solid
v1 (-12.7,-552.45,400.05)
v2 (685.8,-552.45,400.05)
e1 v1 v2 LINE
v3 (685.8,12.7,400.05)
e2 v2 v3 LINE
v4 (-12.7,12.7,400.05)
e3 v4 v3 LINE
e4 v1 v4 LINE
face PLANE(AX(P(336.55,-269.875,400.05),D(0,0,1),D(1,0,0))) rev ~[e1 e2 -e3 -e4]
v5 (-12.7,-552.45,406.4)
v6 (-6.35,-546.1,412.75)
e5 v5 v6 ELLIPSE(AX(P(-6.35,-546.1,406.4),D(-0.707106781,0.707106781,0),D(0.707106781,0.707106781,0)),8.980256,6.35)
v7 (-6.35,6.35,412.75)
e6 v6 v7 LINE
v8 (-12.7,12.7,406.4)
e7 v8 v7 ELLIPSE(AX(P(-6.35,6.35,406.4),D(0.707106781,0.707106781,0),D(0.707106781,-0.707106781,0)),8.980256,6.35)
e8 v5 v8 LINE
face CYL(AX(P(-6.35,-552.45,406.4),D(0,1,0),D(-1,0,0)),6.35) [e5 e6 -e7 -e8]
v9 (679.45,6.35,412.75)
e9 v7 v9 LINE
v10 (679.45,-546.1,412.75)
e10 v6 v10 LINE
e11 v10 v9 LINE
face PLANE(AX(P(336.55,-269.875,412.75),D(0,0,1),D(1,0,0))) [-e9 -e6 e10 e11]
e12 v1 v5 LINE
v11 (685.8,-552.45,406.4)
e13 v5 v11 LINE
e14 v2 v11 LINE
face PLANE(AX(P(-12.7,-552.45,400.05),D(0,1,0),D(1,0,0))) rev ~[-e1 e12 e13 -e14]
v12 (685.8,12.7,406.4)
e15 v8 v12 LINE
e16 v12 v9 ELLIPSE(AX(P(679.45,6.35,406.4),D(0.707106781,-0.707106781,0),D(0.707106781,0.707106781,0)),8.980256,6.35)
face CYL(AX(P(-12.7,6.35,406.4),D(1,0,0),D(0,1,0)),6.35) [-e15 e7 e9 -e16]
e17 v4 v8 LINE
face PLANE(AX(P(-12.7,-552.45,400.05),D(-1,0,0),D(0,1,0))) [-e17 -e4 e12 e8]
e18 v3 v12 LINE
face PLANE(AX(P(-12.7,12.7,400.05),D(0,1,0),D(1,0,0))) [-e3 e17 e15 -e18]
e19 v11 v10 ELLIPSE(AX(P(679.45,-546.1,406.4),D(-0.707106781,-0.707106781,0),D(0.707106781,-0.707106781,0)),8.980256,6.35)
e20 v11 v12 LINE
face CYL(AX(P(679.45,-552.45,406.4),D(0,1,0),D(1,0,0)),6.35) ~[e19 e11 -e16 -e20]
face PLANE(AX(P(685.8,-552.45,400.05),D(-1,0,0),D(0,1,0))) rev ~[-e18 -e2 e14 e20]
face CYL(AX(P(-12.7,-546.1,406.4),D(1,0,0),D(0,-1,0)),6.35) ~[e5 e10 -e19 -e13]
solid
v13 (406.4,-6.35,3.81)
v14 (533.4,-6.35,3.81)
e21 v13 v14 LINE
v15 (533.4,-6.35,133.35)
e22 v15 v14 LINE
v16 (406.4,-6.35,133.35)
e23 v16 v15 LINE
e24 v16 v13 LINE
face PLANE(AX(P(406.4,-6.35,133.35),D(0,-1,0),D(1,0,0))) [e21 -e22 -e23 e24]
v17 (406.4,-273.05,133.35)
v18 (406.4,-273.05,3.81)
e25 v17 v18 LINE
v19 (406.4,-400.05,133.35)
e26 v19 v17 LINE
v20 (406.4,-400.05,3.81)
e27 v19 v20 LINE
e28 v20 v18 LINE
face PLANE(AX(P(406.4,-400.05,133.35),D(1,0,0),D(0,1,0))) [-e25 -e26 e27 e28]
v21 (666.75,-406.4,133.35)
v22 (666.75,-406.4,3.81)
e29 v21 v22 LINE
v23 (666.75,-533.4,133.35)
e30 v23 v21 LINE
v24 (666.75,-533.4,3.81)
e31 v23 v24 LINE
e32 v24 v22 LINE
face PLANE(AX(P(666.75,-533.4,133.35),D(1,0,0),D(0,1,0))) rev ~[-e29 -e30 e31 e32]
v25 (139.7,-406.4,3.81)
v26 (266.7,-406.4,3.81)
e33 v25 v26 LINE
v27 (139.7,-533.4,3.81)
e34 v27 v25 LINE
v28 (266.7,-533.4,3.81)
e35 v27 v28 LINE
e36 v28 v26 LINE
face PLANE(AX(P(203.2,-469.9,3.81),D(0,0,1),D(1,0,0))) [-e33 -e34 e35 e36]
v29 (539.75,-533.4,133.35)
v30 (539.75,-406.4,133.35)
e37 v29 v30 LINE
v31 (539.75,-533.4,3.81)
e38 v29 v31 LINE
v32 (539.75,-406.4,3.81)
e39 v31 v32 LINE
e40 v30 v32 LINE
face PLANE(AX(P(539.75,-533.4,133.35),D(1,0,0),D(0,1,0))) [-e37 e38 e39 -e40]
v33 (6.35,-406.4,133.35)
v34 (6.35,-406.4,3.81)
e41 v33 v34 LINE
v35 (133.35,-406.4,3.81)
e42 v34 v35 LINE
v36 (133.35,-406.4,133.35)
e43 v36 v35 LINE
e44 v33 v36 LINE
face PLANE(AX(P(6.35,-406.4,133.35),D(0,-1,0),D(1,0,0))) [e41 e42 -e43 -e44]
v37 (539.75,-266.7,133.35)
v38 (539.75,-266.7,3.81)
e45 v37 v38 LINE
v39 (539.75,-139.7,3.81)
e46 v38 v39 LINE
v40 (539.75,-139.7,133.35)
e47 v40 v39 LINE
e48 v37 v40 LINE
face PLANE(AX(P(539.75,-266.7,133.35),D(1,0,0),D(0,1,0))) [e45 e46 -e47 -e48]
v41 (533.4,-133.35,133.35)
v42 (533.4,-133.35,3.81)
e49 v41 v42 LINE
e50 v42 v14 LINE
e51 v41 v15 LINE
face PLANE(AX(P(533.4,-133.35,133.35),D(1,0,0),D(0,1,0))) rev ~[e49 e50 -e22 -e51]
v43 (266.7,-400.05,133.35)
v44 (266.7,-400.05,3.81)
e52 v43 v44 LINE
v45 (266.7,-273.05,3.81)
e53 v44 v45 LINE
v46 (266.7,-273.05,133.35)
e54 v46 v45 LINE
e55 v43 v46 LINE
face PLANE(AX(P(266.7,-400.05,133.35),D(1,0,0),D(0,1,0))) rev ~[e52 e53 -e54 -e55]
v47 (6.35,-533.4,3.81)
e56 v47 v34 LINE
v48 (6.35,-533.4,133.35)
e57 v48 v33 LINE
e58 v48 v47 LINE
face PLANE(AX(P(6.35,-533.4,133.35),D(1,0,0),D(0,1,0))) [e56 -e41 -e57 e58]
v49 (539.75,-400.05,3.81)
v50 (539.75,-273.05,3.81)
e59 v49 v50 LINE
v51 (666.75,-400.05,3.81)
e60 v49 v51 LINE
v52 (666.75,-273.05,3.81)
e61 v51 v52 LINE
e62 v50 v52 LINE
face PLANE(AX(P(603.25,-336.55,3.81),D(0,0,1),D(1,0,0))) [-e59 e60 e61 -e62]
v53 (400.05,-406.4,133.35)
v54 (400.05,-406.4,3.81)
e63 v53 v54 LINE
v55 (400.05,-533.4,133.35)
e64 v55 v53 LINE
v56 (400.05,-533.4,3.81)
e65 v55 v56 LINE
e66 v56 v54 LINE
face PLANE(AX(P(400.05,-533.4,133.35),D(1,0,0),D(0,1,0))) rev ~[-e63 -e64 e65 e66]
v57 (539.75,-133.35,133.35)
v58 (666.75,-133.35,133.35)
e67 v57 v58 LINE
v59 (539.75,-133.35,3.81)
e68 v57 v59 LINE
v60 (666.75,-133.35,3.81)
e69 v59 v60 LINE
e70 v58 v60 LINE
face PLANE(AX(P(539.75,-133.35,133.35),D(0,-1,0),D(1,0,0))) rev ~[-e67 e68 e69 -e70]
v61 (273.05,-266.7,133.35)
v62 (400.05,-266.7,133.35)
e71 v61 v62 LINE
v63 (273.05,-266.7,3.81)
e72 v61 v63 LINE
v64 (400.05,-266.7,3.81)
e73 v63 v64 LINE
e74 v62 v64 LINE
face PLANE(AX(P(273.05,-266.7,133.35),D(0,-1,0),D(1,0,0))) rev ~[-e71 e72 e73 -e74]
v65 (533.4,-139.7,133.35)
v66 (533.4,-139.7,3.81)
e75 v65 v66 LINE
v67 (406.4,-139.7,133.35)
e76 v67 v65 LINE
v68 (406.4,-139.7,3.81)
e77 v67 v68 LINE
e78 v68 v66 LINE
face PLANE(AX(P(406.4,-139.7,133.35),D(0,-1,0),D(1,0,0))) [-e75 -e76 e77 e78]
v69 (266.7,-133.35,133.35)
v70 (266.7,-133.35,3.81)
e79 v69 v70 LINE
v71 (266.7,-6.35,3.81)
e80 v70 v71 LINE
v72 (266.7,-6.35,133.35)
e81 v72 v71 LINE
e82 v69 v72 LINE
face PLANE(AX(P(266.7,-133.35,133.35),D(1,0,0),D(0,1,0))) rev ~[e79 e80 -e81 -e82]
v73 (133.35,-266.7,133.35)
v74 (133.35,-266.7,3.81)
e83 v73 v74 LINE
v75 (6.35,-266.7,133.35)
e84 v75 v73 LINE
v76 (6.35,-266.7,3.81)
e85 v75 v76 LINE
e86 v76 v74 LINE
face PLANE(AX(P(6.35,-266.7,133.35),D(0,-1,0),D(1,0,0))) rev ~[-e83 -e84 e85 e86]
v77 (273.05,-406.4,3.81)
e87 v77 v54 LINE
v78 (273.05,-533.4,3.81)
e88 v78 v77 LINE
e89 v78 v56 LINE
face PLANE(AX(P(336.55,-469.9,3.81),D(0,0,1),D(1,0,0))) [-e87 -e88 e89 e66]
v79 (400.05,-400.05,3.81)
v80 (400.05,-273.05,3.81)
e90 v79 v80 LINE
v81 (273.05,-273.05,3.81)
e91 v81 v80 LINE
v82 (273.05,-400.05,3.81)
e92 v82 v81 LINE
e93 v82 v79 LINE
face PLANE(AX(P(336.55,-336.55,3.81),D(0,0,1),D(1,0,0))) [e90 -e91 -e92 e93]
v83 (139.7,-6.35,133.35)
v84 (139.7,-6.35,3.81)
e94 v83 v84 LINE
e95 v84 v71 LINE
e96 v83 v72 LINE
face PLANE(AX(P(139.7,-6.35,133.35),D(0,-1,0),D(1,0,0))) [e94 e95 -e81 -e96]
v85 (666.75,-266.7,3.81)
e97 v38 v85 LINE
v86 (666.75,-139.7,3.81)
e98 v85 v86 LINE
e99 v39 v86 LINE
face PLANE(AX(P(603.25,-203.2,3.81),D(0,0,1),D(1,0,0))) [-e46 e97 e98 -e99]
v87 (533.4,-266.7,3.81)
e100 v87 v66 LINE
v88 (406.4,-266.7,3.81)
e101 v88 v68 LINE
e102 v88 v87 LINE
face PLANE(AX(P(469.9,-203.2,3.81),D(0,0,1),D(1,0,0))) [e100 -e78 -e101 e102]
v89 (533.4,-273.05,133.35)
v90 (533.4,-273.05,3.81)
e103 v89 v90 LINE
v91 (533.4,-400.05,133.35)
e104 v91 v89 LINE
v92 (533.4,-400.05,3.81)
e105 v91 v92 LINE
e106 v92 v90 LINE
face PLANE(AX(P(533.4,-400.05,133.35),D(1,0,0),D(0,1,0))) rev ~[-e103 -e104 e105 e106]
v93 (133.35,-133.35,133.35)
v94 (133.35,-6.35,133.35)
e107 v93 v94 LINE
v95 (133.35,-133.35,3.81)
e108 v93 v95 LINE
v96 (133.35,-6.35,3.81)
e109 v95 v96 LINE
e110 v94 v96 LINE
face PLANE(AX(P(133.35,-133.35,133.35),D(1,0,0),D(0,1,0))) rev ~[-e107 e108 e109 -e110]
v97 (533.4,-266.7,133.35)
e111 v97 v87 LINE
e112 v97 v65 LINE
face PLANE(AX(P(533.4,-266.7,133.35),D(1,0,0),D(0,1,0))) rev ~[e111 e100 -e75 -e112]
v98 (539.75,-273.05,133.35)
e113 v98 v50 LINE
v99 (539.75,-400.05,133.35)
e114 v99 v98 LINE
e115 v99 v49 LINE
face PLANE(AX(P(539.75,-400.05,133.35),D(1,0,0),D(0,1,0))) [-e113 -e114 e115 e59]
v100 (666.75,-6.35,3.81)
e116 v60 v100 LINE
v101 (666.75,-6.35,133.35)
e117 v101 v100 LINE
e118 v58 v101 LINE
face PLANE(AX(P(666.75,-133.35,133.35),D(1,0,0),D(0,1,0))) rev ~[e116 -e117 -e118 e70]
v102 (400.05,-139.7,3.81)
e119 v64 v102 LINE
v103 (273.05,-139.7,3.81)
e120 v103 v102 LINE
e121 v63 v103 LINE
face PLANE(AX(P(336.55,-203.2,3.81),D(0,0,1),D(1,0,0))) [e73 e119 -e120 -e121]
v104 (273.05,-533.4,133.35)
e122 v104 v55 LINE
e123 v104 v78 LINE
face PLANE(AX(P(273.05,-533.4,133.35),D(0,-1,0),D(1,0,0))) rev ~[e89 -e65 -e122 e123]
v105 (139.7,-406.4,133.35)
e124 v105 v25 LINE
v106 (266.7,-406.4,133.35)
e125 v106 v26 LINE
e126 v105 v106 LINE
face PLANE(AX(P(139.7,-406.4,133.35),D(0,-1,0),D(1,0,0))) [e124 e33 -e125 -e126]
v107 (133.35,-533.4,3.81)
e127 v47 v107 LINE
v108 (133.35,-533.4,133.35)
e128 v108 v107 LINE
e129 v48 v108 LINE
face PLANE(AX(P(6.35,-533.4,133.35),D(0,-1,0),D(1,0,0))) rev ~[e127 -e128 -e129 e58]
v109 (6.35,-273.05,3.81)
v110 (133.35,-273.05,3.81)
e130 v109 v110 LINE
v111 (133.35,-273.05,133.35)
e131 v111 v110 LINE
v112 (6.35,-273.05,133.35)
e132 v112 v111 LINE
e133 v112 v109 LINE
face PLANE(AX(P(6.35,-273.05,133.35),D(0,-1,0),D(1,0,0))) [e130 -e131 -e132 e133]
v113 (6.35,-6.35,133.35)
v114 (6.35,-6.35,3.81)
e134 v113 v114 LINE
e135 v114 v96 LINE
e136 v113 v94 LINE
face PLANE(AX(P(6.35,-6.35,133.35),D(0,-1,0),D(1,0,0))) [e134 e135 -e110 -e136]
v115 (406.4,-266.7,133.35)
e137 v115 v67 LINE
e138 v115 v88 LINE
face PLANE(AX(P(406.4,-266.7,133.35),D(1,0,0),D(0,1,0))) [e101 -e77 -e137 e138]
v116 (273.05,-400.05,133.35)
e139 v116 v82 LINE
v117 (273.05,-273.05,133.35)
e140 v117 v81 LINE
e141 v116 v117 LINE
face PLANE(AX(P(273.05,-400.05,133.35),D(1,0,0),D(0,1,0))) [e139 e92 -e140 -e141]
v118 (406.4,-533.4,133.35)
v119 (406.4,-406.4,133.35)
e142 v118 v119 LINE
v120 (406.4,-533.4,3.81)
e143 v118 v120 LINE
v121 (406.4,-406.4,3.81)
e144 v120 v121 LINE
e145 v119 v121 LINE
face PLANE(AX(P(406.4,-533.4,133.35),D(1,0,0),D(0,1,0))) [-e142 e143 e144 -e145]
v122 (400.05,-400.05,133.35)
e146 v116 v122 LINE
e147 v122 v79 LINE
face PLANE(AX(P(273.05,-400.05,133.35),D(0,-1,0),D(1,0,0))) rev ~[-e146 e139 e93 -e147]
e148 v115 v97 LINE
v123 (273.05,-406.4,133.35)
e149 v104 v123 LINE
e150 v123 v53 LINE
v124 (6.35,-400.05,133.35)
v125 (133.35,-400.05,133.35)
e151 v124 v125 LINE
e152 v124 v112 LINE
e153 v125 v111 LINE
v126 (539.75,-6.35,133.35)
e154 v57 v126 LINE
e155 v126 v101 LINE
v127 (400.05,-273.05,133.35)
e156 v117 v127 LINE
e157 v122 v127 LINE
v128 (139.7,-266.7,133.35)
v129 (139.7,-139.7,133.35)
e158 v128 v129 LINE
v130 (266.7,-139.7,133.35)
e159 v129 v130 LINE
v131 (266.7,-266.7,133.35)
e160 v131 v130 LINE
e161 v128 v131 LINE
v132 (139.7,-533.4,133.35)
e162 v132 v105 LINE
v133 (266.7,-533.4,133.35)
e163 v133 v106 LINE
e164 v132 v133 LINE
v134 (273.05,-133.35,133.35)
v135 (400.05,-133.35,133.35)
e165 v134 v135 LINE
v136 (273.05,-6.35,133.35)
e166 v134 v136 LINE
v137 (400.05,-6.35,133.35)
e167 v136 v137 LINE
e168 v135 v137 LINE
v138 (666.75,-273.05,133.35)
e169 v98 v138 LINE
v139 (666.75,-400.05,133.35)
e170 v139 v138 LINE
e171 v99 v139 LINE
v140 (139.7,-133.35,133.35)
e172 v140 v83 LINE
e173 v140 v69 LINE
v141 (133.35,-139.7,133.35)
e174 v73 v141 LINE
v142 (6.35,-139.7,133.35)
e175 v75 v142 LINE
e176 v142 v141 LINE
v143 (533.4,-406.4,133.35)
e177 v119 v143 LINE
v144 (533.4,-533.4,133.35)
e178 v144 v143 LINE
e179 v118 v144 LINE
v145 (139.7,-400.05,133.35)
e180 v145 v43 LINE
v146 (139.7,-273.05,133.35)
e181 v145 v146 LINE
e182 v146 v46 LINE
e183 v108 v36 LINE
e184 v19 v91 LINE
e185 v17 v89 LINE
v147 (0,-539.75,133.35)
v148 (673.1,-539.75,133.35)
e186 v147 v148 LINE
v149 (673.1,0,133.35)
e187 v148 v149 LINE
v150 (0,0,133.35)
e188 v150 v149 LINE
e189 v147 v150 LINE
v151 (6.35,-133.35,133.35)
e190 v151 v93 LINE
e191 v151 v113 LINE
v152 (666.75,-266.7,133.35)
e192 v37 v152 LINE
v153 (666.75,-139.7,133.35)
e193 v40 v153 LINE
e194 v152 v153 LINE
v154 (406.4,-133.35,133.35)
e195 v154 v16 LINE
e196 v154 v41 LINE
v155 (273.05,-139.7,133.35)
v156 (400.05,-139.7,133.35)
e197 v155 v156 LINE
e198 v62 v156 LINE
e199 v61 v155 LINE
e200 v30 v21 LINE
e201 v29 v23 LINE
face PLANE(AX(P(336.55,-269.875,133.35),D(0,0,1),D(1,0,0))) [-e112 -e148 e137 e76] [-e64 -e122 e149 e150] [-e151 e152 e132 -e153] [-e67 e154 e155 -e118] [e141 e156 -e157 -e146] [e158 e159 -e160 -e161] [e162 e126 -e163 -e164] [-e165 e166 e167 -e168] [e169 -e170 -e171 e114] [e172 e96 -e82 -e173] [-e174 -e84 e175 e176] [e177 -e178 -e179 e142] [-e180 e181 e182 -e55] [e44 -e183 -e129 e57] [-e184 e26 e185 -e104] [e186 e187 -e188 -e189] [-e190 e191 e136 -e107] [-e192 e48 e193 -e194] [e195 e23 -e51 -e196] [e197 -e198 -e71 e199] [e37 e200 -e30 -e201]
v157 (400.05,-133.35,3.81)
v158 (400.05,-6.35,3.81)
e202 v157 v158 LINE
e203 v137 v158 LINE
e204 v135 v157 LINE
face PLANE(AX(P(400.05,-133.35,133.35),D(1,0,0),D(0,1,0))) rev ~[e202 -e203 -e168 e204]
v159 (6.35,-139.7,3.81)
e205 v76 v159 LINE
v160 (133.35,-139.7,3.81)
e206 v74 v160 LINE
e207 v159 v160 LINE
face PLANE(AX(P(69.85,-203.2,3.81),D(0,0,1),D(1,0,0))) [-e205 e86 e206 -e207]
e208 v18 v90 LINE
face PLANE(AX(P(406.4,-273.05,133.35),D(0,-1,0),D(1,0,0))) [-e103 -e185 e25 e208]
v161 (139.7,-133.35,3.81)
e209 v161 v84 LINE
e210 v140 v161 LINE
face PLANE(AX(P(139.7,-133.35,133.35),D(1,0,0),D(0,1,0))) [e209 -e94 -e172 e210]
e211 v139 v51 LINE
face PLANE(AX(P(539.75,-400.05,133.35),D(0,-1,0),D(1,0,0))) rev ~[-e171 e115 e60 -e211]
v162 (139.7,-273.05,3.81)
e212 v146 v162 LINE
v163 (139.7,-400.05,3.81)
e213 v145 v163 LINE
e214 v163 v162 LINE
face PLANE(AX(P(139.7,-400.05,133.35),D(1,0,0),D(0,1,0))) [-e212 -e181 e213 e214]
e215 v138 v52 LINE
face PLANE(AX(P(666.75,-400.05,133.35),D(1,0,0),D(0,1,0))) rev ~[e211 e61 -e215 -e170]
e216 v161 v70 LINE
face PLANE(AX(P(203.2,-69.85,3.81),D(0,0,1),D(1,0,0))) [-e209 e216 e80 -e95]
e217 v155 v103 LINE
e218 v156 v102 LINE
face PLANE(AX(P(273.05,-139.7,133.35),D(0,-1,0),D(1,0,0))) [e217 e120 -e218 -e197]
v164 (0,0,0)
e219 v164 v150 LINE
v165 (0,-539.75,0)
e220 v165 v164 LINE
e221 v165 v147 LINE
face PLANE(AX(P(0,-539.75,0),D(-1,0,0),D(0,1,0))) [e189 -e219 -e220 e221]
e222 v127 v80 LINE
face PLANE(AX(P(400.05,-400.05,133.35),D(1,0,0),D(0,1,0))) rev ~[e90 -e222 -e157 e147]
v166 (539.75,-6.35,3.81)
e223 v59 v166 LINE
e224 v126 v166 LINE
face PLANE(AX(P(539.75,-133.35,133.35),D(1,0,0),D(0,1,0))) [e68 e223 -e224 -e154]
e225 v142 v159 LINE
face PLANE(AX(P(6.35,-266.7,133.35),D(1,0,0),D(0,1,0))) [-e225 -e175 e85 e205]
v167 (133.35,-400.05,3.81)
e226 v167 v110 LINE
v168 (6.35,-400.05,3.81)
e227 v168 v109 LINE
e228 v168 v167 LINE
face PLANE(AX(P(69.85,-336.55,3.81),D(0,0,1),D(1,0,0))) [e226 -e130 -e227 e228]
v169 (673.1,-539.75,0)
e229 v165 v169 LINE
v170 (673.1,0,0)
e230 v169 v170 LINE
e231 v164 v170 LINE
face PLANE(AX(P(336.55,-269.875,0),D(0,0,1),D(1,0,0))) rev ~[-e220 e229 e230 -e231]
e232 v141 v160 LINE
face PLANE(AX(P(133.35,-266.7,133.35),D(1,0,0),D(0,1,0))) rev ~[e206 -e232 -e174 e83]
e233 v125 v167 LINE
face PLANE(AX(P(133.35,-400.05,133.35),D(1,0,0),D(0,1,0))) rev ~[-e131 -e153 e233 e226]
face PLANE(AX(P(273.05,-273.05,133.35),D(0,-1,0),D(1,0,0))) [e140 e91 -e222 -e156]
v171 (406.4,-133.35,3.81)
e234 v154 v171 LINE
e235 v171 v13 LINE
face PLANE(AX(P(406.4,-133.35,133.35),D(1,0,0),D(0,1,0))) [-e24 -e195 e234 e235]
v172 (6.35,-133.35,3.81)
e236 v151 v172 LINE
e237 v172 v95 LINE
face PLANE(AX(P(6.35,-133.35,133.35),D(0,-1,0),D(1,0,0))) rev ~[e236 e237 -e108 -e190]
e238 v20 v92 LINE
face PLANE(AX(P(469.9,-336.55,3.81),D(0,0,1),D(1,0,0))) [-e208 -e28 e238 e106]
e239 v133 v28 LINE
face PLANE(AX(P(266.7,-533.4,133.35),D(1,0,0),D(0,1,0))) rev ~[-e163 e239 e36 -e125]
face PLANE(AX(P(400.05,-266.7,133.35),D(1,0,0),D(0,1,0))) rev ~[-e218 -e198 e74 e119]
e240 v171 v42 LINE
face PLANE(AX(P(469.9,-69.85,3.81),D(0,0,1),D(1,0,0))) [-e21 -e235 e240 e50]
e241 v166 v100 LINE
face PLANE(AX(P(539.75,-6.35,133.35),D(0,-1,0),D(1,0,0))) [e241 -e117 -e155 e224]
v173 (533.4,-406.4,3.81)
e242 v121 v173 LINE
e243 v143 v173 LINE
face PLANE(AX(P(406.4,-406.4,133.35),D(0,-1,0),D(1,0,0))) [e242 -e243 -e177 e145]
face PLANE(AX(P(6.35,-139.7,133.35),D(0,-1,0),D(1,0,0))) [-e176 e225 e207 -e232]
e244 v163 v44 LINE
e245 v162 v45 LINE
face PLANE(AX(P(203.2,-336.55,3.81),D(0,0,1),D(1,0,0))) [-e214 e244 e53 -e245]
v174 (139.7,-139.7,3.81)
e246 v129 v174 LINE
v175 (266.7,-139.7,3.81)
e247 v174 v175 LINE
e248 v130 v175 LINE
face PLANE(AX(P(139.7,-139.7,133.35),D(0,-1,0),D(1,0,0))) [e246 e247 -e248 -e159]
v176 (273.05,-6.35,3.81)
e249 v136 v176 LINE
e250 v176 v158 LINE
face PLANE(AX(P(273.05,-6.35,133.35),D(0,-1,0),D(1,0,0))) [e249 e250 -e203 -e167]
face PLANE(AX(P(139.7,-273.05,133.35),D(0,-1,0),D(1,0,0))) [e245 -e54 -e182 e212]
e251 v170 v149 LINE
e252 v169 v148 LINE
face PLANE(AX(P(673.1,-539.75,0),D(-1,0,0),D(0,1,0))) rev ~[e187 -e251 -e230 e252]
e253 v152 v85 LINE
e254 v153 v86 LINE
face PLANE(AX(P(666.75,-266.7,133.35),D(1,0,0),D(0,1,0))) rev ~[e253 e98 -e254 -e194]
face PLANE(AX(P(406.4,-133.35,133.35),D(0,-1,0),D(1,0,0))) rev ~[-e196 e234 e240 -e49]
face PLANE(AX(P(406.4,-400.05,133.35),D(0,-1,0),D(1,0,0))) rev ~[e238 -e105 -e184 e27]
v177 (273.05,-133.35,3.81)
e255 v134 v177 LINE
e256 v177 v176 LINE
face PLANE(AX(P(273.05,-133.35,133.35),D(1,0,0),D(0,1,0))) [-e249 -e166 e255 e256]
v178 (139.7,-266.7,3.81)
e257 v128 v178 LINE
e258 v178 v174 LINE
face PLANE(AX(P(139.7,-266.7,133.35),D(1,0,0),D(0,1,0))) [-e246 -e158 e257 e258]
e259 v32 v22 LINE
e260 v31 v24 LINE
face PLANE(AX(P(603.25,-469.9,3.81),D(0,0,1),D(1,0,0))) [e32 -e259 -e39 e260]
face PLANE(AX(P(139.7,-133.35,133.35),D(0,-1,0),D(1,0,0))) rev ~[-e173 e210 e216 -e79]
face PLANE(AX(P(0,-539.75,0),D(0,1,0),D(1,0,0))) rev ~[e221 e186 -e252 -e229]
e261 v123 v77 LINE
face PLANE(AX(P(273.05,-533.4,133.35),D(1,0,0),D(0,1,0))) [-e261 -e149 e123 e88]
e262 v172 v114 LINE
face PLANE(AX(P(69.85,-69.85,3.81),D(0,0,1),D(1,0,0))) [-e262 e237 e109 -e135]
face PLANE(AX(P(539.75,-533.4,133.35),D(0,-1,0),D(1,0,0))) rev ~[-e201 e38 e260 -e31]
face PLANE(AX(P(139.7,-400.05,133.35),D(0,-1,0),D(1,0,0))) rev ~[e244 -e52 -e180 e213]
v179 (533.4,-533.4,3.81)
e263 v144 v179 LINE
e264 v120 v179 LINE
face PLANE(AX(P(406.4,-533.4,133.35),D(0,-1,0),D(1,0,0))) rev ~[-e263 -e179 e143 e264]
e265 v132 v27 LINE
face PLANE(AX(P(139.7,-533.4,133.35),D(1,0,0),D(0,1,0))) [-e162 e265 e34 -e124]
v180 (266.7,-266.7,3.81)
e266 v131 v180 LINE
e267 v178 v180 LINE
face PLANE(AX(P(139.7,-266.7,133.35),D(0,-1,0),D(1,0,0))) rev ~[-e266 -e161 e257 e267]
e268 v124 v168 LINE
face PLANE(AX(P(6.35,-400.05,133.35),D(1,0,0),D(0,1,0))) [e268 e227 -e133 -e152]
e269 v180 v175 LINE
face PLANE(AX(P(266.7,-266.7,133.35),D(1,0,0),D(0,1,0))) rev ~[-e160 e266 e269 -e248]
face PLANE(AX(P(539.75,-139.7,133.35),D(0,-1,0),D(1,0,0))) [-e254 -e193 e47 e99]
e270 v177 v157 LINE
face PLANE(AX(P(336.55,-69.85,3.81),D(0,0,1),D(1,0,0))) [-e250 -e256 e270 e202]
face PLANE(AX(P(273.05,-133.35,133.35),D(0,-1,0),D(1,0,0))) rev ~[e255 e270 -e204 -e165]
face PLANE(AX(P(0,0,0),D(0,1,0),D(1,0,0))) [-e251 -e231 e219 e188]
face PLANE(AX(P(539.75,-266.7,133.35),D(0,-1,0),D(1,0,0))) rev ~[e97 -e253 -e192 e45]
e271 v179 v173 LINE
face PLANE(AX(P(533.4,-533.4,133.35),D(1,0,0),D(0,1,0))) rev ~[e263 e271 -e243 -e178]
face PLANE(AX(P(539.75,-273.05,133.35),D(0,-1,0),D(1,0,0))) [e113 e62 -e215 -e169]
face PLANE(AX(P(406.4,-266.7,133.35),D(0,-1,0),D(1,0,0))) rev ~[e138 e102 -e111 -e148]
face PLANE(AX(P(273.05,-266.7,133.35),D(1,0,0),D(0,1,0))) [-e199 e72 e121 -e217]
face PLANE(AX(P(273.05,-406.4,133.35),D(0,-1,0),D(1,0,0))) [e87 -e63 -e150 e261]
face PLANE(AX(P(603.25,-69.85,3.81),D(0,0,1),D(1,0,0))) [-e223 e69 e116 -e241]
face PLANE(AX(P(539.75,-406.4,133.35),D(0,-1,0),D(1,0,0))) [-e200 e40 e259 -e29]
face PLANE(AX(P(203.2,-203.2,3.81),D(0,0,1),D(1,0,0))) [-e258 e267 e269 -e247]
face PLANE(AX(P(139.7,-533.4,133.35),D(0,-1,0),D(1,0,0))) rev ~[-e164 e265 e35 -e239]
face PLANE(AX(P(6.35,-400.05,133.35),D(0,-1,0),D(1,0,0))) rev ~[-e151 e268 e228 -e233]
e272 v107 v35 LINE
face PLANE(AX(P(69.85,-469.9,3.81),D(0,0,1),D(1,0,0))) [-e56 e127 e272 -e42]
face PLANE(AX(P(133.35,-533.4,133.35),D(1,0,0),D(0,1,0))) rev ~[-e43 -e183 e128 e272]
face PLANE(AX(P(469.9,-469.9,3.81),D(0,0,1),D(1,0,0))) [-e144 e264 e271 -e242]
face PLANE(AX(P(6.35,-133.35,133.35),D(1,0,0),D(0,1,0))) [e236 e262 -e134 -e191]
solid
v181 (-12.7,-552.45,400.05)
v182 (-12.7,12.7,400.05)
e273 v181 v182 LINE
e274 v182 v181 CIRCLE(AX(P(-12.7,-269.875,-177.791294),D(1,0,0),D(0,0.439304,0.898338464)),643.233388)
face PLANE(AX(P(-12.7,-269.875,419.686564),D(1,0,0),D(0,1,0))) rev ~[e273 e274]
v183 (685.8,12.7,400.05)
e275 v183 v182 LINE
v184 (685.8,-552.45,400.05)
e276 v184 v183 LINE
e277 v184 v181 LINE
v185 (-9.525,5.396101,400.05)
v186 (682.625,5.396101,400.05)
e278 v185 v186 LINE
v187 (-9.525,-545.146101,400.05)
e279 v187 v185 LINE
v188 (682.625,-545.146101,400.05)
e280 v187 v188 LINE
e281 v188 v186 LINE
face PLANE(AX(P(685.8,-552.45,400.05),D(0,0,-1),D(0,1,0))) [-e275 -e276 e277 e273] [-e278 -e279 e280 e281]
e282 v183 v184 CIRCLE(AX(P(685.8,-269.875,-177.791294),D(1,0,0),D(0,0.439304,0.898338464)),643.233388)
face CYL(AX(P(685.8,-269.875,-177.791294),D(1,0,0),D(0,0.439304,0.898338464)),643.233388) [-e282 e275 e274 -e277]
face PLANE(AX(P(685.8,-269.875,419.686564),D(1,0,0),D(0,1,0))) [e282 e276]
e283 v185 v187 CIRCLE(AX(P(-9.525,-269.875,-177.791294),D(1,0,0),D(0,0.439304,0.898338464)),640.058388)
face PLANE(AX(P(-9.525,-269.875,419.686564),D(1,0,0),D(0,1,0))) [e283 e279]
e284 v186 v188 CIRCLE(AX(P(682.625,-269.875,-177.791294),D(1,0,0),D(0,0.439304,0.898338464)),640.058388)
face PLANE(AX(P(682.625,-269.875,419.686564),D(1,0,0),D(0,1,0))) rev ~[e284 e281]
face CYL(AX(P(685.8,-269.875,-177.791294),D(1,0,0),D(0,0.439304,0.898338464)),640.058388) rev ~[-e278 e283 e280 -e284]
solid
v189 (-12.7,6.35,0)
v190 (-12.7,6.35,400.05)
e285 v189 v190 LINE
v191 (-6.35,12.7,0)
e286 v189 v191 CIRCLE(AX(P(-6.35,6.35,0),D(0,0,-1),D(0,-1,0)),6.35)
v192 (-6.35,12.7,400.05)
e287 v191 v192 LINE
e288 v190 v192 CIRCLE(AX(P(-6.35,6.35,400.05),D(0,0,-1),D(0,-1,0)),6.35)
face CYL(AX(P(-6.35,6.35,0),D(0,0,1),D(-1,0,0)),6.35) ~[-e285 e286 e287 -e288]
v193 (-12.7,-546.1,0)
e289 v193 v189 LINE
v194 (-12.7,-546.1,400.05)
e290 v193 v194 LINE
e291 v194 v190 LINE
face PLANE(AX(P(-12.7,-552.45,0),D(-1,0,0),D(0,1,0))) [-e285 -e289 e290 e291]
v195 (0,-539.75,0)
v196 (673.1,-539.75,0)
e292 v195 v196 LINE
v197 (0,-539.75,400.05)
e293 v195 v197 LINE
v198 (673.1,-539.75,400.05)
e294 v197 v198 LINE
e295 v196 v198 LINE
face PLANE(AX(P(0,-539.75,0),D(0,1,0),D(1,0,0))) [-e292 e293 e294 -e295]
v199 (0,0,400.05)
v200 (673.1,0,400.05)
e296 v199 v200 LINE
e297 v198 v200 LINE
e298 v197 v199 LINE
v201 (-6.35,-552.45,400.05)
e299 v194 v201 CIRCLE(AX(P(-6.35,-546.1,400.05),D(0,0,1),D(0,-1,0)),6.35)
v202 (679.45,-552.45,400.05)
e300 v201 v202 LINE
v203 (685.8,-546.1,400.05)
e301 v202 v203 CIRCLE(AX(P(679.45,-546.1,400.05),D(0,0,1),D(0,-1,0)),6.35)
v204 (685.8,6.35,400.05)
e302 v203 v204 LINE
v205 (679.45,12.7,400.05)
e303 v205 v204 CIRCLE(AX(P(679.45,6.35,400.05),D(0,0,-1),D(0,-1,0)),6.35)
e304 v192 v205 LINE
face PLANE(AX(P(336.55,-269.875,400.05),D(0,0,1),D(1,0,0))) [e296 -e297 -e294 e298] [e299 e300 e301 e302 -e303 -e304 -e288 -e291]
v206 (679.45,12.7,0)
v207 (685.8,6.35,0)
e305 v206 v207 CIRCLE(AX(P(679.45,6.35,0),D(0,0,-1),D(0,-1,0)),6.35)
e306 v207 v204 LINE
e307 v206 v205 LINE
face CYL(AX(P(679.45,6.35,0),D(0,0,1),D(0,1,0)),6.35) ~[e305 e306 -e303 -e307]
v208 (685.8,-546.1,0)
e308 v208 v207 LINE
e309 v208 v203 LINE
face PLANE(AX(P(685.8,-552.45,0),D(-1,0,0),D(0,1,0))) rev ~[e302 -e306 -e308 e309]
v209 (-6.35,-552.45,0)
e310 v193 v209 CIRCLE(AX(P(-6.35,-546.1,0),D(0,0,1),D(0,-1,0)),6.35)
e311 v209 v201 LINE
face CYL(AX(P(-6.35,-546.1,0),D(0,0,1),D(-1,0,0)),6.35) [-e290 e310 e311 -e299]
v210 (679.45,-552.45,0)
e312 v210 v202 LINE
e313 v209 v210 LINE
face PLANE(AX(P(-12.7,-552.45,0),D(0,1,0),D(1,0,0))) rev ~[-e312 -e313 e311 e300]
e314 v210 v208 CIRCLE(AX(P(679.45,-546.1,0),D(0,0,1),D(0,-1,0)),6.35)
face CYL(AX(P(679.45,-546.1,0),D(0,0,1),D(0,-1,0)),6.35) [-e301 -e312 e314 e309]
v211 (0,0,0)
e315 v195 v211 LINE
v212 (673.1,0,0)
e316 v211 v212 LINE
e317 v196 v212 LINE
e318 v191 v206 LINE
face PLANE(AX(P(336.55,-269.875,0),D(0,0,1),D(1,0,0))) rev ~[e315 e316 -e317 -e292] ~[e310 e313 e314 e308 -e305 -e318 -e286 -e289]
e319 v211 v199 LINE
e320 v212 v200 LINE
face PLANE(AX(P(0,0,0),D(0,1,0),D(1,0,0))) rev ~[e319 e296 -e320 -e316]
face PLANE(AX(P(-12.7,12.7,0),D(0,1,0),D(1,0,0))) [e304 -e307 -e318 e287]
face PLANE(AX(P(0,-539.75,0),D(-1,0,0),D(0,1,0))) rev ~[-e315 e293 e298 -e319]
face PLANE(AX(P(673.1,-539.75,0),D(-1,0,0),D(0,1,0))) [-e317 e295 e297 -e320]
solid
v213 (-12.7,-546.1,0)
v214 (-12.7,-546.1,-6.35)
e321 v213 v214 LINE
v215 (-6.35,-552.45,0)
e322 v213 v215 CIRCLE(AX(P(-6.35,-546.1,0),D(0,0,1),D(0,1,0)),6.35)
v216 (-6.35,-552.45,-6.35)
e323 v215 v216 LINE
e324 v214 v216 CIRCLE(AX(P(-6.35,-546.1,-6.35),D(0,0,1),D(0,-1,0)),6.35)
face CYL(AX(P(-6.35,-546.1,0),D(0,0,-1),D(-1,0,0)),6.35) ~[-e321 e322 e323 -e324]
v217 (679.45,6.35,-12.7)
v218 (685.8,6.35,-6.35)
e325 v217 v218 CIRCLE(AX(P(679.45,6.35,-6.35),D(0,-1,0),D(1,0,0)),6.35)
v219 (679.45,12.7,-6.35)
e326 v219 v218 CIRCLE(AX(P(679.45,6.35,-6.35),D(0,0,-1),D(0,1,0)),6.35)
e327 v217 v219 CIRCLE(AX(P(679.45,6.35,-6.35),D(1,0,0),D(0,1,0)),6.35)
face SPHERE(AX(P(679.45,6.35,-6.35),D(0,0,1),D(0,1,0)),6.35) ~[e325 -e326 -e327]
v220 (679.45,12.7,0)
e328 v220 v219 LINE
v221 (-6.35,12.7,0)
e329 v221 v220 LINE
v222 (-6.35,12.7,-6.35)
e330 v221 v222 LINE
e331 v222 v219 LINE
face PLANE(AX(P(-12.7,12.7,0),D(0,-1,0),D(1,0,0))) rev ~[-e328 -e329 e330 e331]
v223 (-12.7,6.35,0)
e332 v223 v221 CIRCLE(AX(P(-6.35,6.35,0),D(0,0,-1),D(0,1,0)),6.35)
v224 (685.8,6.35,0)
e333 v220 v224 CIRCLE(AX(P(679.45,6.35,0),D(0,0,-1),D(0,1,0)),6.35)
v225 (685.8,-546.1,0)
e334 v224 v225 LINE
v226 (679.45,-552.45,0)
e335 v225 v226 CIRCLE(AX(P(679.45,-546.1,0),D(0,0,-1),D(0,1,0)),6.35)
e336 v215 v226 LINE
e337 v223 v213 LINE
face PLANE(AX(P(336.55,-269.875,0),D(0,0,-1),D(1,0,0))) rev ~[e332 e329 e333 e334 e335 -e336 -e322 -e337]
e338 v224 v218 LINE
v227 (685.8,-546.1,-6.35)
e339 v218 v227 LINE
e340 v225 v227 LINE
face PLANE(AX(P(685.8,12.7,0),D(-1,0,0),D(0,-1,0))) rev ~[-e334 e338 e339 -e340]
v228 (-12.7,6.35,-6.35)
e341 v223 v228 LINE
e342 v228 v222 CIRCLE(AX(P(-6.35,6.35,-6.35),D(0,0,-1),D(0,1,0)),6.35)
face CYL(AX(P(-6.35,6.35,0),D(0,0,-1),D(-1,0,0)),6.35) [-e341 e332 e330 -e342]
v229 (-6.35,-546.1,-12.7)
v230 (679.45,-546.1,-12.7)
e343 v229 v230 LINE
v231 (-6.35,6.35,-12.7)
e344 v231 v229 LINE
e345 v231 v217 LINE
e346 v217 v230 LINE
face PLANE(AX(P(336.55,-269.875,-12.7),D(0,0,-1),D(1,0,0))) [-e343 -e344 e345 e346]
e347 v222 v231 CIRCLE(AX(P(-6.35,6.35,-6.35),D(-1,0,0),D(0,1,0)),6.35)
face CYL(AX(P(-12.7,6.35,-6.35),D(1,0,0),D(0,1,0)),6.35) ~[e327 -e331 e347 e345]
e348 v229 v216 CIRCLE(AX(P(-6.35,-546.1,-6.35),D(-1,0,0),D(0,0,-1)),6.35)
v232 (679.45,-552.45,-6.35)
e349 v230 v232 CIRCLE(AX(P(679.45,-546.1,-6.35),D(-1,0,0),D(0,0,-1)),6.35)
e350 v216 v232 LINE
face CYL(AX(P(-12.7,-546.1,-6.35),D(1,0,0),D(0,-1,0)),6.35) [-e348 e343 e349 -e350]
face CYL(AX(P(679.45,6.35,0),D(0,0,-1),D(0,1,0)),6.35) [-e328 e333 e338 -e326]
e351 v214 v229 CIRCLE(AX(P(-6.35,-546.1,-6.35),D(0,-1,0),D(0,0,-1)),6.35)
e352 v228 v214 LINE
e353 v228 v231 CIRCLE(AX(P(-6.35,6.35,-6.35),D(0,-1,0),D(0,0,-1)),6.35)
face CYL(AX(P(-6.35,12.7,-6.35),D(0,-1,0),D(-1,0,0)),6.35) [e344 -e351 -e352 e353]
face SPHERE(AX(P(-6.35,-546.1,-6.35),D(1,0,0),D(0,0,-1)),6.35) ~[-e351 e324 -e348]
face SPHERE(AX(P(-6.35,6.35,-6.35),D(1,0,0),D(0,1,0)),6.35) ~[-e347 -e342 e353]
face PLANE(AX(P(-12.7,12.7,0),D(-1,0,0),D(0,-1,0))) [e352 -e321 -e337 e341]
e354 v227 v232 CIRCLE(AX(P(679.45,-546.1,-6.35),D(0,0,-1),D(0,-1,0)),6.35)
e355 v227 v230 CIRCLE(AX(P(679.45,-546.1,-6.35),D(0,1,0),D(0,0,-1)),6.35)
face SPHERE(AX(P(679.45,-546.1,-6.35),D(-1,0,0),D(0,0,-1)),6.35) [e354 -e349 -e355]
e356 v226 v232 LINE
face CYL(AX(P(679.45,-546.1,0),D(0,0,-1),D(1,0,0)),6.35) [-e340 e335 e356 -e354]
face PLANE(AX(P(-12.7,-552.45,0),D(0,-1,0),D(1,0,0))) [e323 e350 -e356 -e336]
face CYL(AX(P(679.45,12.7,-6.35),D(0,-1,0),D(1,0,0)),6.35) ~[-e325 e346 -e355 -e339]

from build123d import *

# Parameters (mm, degrees)
F1_W      = 673.1
F1_H      = 539.75
F2_DEPTH  = 133.35
F3_W      = 127
F3_H      = 127
F4_DEPTH  = 129.54
F5_W      = 698.5
F5_H      = 565.15
F6_DEPTH  = 12.7
F7_W      = 698.5
F7_H      = 565.15
F7_W_2    = 673.1
F7_H_2    = 539.75
F8_DEPTH  = 400.05
F9_W      = 698.5
F9_H      = 565.15
F10_DEPTH = 12.7
F11_R     = 6.35
F11_2_R   = 6.35
F11_3_R   = 6.35
F13_DEPTH = 698.5
F14_T     = -3.175


with BuildPart() as f2:
    # F1 (on Top) → F2 (new body)
    with BuildSketch(Plane.XY):
        with Locations((336.55, -269.875)):
            Rectangle(F1_W, F1_H)
    extrude(amount=F2_DEPTH)

    # F3 (on face) → F4 (cut)
    with BuildSketch(Plane.XY.offset(133.35)):
        with Locations((69.85, -203.2)):
            Rectangle(F3_W, F3_H)
        with Locations((336.55, -203.2)):
            Rectangle(F3_W, F3_H)
        with Locations((603.25, -469.9)):
            Rectangle(F3_W, F3_H)
        with Locations((203.2, -336.55)):
            Rectangle(F3_W, F3_H)
        with Locations((69.85, -469.9)):
            Rectangle(F3_W, F3_H)
        with Locations((69.85, -336.55)):
            Rectangle(F3_W, F3_H)
        with Locations((336.55, -69.85)):
            Rectangle(F3_W, F3_H)
        with Locations((203.2, -69.85)):
            Rectangle(F3_W, F3_H)
        with Locations((603.25, -69.85)):
            Rectangle(F3_W, F3_H)
        with Locations((603.25, -203.2)):
            Rectangle(F3_W, F3_H)
        with Locations((469.9, -336.55)):
            Rectangle(F3_W, F3_H)
        with Locations((603.25, -336.55)):
            Rectangle(F3_W, F3_H)
        with Locations((469.9, -203.2)):
            Rectangle(F3_W, F3_H)
        with Locations((336.55, -336.55)):
            Rectangle(F3_W, F3_H)
        with Locations((203.2, -469.9)):
            Rectangle(F3_W, F3_H)
        with Locations((203.2, -203.2)):
            Rectangle(F3_W, F3_H)
        with Locations((69.85, -69.85)):
            Rectangle(F3_W, F3_H)
        with Locations((336.55, -469.9)):
            Rectangle(F3_W, F3_H)
        with Locations((469.9, -469.9)):
            Rectangle(F3_W, F3_H)
        with Locations((469.9, -69.85)):
            Rectangle(F3_W, F3_H)
    extrude(amount=-F4_DEPTH, mode=Mode.SUBTRACT)


with BuildPart() as f6:
    # F5 (on face) → F6 (new body)
    with BuildSketch(Plane(origin=(0, 0, 0), x_dir=(1, 0, 0), z_dir=(0, 0, -1))):
        with Locations((336.55, 269.875)):
            Rectangle(F5_W, F5_H)
    extrude(amount=F6_DEPTH)

    # F11
    f11_edges = [f6.edges().sort_by_distance(p)[0] for p in [
        (685.8, 12.7, -6.35),
        (336.55, 12.7, -12.7),
        (-12.7, 12.7, -6.35),
        (336.55, -552.45, -12.7),
        (-12.7, -269.875, -12.7),
        (685.8, -269.875, -12.7),
        (685.8, -552.45, -6.35),
        (-12.7, -552.45, -6.35),
    ]]
    fillet(f11_edges, radius=F11_R)


with BuildPart() as f8:
    # F7 (on face) → F8 (new body)
    with BuildSketch(Plane.XY):
        with Locations((336.55, -269.875)):
            Rectangle(F7_W, F7_H)
        with Locations((336.55, -269.875)):
            Rectangle(F7_W_2, F7_H_2, mode=Mode.SUBTRACT)
    extrude(amount=F8_DEPTH)

    # F11#2
    f11_2_edges = [f8.edges().sort_by_distance(p)[0] for p in [
        (685.8, 12.7, 200.025),
        (-12.7, 12.7, 200.025),
        (685.8, -552.45, 200.025),
        (-12.7, -552.45, 200.025),
    ]]
    fillet(f11_2_edges, radius=F11_2_R)


with BuildPart() as f10:
    # F9 (on face) → F10 (new body)
    with BuildSketch(Plane.XY.offset(400.05)):
        with Locations((336.55, -269.875)):
            Rectangle(F9_W, F9_H)
    extrude(amount=F10_DEPTH)

    # F11#3
    f11_3_edges = [f10.edges().sort_by_distance(p)[0] for p in [
        (336.55, 12.7, 412.75),
        (-12.7, -269.875, 412.75),
        (336.55, -552.45, 412.75),
        (685.8, -269.875, 412.75),
    ]]
    fillet(f11_3_edges, radius=F11_3_R)


with BuildPart() as f13:
    # F12 (on face) → F13 (new body, through all)
    with BuildSketch(Plane.YZ.offset(685.8)):
        with BuildLine():
            Line((-552.45, 400.05), (12.7, 400.05))
            ThreePointArc((12.7, 400.05), (-269.875, 465.4420942253), (-552.45, 400.05))
        make_face()
    extrude(amount=-F13_DEPTH)

    # F14
    f14_openings = [f13.faces().sort_by_distance(p)[0] for p in [
        (336.55, -269.875, 400.05),
    ]]
    offset(amount=F14_T, openings=f14_openings)


solid = Compound([f2.part, f6.part, f8.part, f10.part, f13.part])
